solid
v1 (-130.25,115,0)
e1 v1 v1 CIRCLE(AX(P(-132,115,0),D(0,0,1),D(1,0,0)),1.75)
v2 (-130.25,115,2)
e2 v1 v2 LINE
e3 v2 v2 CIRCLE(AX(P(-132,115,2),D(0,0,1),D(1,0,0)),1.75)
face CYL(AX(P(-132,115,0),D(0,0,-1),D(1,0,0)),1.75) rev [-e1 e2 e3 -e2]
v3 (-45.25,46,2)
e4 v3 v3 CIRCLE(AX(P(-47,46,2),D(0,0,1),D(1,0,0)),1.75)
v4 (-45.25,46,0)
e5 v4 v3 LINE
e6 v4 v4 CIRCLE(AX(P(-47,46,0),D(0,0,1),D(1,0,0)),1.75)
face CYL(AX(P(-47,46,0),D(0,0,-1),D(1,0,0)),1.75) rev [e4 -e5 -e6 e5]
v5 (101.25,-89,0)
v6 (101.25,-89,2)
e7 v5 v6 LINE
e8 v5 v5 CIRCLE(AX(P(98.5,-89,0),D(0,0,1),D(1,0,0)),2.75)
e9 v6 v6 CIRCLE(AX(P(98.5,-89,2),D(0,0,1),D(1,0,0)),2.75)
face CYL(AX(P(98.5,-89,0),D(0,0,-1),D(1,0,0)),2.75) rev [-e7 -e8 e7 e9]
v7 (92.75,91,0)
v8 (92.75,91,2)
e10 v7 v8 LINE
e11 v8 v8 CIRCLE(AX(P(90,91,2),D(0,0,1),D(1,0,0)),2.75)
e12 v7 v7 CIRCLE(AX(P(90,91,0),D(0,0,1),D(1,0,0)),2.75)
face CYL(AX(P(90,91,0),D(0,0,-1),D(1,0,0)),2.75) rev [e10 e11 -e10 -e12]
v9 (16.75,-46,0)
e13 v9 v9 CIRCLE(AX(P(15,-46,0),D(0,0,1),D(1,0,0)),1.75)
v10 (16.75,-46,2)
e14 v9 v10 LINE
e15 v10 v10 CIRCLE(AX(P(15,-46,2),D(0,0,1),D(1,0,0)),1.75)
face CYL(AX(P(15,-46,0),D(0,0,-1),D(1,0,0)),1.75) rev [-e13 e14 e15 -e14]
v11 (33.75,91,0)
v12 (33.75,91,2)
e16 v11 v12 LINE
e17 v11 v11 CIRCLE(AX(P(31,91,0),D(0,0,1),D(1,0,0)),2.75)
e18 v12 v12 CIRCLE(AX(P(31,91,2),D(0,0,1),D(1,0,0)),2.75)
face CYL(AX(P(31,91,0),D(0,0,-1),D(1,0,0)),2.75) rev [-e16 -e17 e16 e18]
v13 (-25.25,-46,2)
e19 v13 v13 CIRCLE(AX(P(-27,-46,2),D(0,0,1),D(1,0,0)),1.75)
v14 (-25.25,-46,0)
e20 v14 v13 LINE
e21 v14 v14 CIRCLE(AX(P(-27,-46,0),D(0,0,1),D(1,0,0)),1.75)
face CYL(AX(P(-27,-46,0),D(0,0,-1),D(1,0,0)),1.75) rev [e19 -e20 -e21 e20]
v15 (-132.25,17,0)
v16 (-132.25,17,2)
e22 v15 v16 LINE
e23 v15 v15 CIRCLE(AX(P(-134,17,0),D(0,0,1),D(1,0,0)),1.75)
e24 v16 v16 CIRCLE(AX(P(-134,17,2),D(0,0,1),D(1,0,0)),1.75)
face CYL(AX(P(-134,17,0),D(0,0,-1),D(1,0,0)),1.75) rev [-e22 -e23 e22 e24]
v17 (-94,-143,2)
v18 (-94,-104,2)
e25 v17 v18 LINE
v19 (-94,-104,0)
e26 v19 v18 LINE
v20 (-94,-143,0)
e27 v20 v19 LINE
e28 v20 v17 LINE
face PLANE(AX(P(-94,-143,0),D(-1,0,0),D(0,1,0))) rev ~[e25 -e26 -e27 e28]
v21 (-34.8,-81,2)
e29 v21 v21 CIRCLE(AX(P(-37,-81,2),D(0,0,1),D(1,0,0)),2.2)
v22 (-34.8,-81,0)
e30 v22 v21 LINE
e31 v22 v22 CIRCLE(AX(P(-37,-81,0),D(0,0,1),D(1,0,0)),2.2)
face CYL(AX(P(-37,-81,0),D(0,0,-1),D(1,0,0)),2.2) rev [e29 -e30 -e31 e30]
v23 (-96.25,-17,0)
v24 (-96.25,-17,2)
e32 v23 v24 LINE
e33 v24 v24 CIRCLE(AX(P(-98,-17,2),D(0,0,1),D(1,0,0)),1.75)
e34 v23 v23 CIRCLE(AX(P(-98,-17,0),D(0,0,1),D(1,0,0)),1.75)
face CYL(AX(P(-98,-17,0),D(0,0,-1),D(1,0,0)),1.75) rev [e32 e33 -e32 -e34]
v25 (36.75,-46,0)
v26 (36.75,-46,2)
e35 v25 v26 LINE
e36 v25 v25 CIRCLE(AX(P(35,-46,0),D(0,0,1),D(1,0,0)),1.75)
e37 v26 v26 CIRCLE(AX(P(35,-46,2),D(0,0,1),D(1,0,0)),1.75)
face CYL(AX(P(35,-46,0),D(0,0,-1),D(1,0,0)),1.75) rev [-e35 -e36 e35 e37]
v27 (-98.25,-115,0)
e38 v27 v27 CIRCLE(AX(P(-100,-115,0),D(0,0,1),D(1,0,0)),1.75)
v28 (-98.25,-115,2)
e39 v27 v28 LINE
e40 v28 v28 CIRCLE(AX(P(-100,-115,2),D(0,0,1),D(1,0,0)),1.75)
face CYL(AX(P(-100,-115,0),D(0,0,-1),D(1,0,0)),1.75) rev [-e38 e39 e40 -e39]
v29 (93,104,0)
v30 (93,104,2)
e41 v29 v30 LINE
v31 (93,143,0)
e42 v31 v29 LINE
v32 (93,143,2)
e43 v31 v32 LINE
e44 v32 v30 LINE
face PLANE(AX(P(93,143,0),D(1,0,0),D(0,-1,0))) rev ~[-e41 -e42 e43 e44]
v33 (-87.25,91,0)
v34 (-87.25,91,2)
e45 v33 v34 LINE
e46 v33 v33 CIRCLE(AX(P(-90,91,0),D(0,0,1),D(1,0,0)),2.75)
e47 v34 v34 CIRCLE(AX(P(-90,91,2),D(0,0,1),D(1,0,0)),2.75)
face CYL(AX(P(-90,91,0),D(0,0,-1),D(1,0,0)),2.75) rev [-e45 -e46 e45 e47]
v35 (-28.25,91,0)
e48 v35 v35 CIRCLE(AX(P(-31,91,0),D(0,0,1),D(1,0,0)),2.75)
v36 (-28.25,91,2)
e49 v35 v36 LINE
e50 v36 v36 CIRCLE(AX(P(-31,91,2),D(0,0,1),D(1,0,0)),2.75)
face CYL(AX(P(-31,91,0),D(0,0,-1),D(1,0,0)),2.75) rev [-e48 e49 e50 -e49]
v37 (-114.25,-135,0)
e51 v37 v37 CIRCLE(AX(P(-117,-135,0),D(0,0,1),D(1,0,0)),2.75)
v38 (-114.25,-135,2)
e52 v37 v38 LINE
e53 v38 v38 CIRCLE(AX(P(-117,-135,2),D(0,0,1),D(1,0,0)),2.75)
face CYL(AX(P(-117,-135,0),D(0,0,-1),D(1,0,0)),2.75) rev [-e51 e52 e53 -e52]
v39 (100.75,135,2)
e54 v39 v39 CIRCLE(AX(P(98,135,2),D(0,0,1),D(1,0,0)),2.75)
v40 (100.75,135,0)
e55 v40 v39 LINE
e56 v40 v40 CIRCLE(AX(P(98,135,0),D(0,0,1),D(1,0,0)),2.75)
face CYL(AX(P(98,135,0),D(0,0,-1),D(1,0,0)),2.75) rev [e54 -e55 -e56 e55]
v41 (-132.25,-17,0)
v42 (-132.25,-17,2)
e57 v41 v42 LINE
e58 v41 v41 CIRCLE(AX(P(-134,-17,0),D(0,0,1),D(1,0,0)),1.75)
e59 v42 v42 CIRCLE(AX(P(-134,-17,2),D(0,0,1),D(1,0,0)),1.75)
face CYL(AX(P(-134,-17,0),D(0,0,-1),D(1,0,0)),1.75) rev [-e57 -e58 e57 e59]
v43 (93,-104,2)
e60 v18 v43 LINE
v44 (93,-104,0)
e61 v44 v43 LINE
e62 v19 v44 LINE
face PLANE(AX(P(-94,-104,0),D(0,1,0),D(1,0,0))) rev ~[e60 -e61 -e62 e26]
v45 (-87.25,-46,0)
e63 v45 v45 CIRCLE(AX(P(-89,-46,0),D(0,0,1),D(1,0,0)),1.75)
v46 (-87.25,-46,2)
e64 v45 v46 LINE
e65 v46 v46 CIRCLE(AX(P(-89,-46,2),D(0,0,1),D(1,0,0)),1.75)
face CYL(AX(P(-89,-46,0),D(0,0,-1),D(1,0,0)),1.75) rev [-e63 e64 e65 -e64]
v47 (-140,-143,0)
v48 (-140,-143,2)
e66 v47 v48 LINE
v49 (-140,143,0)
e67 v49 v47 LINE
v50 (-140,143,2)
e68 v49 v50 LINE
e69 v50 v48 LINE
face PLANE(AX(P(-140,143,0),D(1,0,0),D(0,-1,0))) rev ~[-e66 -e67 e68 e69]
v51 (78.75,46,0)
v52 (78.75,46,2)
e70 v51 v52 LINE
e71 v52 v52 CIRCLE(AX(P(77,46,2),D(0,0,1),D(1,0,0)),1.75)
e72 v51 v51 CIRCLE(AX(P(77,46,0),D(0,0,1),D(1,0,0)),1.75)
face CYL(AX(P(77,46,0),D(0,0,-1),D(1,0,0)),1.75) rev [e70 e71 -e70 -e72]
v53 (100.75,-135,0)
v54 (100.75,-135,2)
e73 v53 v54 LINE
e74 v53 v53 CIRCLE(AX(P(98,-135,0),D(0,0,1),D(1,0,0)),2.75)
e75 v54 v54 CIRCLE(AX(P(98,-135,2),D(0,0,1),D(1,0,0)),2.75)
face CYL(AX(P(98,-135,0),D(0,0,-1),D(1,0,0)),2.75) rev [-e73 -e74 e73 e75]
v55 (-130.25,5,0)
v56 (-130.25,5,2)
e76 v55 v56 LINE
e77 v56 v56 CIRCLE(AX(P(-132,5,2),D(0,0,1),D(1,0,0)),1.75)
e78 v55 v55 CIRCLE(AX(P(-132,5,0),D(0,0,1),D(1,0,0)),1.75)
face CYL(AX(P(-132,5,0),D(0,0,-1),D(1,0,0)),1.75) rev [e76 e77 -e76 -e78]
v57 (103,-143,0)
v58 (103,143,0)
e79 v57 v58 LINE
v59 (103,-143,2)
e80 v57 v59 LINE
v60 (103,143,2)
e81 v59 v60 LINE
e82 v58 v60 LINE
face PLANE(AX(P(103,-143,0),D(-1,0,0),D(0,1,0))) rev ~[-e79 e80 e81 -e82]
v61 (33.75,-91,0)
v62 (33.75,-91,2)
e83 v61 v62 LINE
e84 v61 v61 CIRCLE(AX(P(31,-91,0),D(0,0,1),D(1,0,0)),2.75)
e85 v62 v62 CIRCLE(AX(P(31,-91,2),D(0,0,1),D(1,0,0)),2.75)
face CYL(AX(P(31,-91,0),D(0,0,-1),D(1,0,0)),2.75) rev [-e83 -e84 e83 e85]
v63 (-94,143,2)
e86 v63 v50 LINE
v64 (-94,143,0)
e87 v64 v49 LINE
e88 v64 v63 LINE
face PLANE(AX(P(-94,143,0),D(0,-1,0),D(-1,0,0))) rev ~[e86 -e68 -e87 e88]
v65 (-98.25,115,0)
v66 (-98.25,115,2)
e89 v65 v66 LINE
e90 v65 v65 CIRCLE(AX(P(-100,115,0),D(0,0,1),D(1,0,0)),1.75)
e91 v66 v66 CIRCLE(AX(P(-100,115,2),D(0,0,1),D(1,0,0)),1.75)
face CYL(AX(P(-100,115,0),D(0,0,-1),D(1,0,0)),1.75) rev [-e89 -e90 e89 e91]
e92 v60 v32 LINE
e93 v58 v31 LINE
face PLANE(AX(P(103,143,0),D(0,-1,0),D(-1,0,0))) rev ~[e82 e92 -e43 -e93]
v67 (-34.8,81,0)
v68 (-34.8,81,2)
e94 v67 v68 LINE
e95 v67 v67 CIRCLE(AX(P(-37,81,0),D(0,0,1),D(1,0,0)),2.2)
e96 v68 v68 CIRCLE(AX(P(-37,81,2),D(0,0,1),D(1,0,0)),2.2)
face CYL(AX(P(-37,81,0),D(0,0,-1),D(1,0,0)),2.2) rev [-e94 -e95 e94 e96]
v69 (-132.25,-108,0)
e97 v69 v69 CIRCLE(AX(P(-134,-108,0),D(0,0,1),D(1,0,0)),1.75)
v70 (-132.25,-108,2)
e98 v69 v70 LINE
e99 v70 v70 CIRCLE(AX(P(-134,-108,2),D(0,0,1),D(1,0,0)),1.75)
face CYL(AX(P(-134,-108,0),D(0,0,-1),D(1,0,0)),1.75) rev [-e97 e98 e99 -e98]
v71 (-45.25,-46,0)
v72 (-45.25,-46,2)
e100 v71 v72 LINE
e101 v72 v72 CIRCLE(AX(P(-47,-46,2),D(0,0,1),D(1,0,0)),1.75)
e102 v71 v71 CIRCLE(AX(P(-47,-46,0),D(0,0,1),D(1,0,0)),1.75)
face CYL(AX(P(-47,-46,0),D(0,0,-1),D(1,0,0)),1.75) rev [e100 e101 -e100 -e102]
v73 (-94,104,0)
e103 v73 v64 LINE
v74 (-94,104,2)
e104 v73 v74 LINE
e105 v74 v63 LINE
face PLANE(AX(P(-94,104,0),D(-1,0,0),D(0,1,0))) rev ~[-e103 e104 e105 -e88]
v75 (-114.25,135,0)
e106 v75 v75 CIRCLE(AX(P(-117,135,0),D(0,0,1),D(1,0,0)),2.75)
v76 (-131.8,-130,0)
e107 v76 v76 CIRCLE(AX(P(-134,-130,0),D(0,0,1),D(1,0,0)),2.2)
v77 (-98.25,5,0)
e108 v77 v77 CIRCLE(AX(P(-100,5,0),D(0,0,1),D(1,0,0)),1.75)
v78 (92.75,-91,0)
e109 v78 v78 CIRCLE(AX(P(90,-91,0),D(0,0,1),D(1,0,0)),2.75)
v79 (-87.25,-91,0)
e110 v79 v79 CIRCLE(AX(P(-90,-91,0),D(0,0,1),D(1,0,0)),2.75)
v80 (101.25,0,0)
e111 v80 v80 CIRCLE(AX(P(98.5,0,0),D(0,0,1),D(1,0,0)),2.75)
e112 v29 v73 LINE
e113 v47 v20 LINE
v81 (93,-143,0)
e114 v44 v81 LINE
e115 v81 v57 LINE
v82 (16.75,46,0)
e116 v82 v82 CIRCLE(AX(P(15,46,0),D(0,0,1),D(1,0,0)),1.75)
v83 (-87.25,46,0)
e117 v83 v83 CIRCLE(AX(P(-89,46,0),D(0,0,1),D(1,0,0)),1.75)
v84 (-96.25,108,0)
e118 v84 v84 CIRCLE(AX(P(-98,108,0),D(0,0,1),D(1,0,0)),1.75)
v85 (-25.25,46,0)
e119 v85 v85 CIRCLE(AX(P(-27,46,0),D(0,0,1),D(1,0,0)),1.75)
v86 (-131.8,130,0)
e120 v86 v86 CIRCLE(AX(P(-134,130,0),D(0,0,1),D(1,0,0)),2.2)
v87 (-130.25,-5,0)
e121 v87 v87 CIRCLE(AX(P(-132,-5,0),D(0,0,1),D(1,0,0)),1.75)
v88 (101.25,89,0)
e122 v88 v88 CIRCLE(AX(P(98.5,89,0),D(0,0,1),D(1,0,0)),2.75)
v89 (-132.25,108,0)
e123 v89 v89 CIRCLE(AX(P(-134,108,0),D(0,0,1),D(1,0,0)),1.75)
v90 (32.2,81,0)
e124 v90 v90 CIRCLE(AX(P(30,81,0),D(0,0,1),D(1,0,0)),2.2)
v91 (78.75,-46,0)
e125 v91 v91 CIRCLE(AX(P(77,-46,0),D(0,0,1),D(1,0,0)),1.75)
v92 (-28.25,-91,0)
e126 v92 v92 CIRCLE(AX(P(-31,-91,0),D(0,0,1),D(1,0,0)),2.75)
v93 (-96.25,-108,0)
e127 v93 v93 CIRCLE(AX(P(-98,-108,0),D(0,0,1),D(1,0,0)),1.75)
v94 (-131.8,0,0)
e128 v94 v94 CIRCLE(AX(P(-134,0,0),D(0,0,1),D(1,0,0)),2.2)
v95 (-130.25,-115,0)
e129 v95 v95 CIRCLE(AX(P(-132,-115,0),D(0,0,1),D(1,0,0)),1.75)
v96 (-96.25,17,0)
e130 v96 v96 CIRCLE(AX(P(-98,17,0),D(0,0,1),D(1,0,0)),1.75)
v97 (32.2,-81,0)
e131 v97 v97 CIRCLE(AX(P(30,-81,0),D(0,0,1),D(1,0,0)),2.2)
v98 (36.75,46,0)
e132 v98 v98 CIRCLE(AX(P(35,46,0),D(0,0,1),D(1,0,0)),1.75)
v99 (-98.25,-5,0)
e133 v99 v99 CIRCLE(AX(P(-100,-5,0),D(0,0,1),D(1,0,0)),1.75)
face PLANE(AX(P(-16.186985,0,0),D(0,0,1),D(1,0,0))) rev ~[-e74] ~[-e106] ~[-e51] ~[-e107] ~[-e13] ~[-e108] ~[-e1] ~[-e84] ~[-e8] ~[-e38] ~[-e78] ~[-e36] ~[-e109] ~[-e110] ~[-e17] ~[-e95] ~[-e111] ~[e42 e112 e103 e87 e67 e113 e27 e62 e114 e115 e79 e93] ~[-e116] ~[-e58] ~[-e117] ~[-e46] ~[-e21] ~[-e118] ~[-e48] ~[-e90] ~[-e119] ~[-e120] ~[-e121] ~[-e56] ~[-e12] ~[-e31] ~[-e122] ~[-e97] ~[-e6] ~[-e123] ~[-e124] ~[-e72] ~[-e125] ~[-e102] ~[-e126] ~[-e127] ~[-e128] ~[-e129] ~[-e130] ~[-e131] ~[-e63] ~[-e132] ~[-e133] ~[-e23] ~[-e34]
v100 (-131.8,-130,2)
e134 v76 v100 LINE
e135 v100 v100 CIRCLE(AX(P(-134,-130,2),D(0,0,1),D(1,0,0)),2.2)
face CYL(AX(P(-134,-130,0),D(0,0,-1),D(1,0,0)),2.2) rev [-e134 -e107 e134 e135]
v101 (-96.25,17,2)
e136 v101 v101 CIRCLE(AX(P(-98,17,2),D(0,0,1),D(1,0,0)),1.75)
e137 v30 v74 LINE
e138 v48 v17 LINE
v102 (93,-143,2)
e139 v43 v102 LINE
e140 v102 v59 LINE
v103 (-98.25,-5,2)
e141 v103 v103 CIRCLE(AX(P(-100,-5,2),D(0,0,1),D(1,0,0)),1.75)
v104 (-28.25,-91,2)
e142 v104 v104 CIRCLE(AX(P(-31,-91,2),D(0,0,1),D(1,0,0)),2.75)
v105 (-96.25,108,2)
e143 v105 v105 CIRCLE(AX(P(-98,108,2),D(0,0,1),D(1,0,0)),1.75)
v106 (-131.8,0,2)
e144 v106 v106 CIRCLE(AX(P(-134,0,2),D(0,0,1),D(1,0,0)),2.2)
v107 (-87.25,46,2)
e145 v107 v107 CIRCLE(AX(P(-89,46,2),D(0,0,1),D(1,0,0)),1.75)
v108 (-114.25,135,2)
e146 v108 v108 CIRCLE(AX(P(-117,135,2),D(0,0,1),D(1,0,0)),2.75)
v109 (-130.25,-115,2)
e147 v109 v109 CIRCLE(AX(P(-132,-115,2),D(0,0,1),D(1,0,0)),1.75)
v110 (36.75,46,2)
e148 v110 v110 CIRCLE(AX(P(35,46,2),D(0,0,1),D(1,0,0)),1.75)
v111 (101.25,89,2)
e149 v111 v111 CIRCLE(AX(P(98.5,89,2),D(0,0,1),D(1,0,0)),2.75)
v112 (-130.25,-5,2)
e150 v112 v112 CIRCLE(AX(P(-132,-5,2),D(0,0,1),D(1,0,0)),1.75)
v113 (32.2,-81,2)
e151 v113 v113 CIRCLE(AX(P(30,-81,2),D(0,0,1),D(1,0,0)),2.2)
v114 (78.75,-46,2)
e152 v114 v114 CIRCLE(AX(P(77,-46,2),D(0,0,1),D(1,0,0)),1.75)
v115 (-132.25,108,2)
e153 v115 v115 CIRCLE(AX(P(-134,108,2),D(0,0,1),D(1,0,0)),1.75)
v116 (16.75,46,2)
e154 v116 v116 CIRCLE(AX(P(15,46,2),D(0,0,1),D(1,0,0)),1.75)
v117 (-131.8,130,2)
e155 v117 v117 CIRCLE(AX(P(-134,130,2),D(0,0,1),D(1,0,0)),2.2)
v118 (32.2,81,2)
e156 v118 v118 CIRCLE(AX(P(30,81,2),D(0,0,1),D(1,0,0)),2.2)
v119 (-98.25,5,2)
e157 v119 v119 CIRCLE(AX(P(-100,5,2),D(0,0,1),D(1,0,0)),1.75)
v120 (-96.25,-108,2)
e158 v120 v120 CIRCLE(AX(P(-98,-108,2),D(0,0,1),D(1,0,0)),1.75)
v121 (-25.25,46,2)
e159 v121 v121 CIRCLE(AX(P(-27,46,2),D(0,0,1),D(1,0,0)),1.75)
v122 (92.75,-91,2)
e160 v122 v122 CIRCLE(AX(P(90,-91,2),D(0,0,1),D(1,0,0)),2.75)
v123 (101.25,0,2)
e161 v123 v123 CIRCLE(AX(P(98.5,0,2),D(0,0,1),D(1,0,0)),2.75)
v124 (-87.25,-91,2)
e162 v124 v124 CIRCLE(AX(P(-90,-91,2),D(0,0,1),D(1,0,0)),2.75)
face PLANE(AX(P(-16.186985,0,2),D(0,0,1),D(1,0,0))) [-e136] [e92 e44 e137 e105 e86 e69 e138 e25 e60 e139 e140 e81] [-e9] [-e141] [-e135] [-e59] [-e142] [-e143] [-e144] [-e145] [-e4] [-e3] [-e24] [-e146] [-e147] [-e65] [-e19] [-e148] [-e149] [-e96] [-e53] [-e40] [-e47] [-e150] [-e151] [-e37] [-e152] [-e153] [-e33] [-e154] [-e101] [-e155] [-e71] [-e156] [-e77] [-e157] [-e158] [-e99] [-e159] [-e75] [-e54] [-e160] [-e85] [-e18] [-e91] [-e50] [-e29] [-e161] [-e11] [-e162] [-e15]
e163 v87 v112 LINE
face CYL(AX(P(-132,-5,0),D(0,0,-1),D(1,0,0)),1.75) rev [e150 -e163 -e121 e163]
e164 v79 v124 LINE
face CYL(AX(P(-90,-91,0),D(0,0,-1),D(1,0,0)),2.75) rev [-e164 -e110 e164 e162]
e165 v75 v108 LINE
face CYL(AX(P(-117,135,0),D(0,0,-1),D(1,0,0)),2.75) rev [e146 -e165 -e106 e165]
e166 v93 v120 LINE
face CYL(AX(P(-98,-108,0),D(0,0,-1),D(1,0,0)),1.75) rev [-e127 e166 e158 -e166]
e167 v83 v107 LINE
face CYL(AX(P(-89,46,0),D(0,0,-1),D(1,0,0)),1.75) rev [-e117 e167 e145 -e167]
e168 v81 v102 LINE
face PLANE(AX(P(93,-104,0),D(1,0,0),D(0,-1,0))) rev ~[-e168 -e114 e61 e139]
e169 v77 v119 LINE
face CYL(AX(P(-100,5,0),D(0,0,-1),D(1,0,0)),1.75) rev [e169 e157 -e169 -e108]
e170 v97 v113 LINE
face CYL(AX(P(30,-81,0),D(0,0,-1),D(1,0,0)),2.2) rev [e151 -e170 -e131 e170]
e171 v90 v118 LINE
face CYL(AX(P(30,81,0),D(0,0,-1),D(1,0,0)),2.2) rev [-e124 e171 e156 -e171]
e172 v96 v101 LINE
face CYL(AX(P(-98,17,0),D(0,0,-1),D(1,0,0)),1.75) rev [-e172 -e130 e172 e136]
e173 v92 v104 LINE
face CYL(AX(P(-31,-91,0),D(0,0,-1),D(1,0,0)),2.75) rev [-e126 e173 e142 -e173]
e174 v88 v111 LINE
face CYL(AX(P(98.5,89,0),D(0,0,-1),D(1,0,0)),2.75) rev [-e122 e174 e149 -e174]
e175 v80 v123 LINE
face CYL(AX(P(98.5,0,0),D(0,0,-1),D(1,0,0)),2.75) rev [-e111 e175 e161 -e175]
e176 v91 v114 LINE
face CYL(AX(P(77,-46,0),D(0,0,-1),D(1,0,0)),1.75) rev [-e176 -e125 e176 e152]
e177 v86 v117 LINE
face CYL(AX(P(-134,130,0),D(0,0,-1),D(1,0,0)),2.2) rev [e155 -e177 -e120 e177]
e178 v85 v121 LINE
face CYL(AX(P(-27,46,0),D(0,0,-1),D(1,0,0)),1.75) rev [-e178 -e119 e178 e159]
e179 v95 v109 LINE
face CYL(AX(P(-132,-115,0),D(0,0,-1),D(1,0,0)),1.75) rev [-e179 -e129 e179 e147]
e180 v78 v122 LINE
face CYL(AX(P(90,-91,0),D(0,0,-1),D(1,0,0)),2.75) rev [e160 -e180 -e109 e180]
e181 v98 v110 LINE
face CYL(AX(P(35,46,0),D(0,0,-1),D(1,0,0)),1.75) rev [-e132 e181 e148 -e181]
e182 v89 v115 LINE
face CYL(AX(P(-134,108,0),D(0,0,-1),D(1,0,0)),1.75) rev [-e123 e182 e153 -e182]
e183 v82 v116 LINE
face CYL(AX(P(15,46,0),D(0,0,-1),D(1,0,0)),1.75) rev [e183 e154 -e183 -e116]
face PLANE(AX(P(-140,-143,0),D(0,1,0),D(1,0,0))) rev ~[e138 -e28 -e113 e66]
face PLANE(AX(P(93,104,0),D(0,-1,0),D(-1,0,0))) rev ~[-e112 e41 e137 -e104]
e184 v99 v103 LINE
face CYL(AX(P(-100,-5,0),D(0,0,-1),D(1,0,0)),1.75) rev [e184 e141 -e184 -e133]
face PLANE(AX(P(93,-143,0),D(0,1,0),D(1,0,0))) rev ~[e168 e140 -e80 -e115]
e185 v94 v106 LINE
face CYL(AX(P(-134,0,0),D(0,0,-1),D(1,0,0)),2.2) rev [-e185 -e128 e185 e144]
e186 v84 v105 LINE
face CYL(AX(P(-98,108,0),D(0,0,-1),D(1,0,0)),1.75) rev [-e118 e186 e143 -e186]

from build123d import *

# Parameters (mm, degrees)
MOTOR_AND_BATTERY_FLOOR_PROFILE_R   = 2.75
MOTOR_AND_BATTERY_FLOOR_PROFILE_R_2 = 1.75
MOTOR_AND_BATTERY_FLOOR_PROFILE_R_3 = 2.2
MOTOR_AND_BATTERY_FLOOR_DEPTH       = 2


with BuildPart() as part:
    # Motor and battery floor profile → Motor and battery floor (new body)
    with BuildSketch(Plane.XY):
        Polygon((-140, -143), (-94, -143), (-94, -104), (93, -104), (93, -143), (103, -143), (103, 143), (93, 143), (93, 104), (-94, 104), (-94, 143), (-140, 143), align=None)
        with Locations((-90, -91)):
            Circle(MOTOR_AND_BATTERY_FLOOR_PROFILE_R, mode=Mode.SUBTRACT)
        with Locations((-90, 91)):
            Circle(MOTOR_AND_BATTERY_FLOOR_PROFILE_R, mode=Mode.SUBTRACT)
        with Locations((-31, -91)):
            Circle(MOTOR_AND_BATTERY_FLOOR_PROFILE_R, mode=Mode.SUBTRACT)
        with Locations((-31, 91)):
            Circle(MOTOR_AND_BATTERY_FLOOR_PROFILE_R, mode=Mode.SUBTRACT)
        with Locations((31, -91)):
            Circle(MOTOR_AND_BATTERY_FLOOR_PROFILE_R, mode=Mode.SUBTRACT)
        with Locations((31, 91)):
            Circle(MOTOR_AND_BATTERY_FLOOR_PROFILE_R, mode=Mode.SUBTRACT)
        with Locations((90, -91)):
            Circle(MOTOR_AND_BATTERY_FLOOR_PROFILE_R, mode=Mode.SUBTRACT)
        with Locations((90, 91)):
            Circle(MOTOR_AND_BATTERY_FLOOR_PROFILE_R, mode=Mode.SUBTRACT)
        with Locations((-134, -108)):
            Circle(MOTOR_AND_BATTERY_FLOOR_PROFILE_R_2, mode=Mode.SUBTRACT)
        with Locations((-134, -17)):
            Circle(MOTOR_AND_BATTERY_FLOOR_PROFILE_R_2, mode=Mode.SUBTRACT)
        with Locations((-134, 17)):
            Circle(MOTOR_AND_BATTERY_FLOOR_PROFILE_R_2, mode=Mode.SUBTRACT)
        with Locations((-134, 108)):
            Circle(MOTOR_AND_BATTERY_FLOOR_PROFILE_R_2, mode=Mode.SUBTRACT)
        with Locations((-98, -108)):
            Circle(MOTOR_AND_BATTERY_FLOOR_PROFILE_R_2, mode=Mode.SUBTRACT)
        with Locations((-98, -17)):
            Circle(MOTOR_AND_BATTERY_FLOOR_PROFILE_R_2, mode=Mode.SUBTRACT)
        with Locations((-98, 17)):
            Circle(MOTOR_AND_BATTERY_FLOOR_PROFILE_R_2, mode=Mode.SUBTRACT)
        with Locations((-98, 108)):
            Circle(MOTOR_AND_BATTERY_FLOOR_PROFILE_R_2, mode=Mode.SUBTRACT)
        with Locations((-89, -46)):
            Circle(MOTOR_AND_BATTERY_FLOOR_PROFILE_R_2, mode=Mode.SUBTRACT)
        with Locations((-89, 46)):
            Circle(MOTOR_AND_BATTERY_FLOOR_PROFILE_R_2, mode=Mode.SUBTRACT)
        with Locations((-47, -46)):
            Circle(MOTOR_AND_BATTERY_FLOOR_PROFILE_R_2, mode=Mode.SUBTRACT)
        with Locations((-47, 46)):
            Circle(MOTOR_AND_BATTERY_FLOOR_PROFILE_R_2, mode=Mode.SUBTRACT)
        with Locations((-27, -46)):
            Circle(MOTOR_AND_BATTERY_FLOOR_PROFILE_R_2, mode=Mode.SUBTRACT)
        with Locations((-27, 46)):
            Circle(MOTOR_AND_BATTERY_FLOOR_PROFILE_R_2, mode=Mode.SUBTRACT)
        with Locations((15, -46)):
            Circle(MOTOR_AND_BATTERY_FLOOR_PROFILE_R_2, mode=Mode.SUBTRACT)
        with Locations((15, 46)):
            Circle(MOTOR_AND_BATTERY_FLOOR_PROFILE_R_2, mode=Mode.SUBTRACT)
        with Locations((35, -46)):
            Circle(MOTOR_AND_BATTERY_FLOOR_PROFILE_R_2, mode=Mode.SUBTRACT)
        with Locations((35, 46)):
            Circle(MOTOR_AND_BATTERY_FLOOR_PROFILE_R_2, mode=Mode.SUBTRACT)
        with Locations((77, -46)):
            Circle(MOTOR_AND_BATTERY_FLOOR_PROFILE_R_2, mode=Mode.SUBTRACT)
        with Locations((77, 46)):
            Circle(MOTOR_AND_BATTERY_FLOOR_PROFILE_R_2, mode=Mode.SUBTRACT)
        with Locations((-117, -135)):
            Circle(MOTOR_AND_BATTERY_FLOOR_PROFILE_R, mode=Mode.SUBTRACT)
        with Locations((-117, 135)):
            Circle(MOTOR_AND_BATTERY_FLOOR_PROFILE_R, mode=Mode.SUBTRACT)
        with Locations((98, -135)):
            Circle(MOTOR_AND_BATTERY_FLOOR_PROFILE_R, mode=Mode.SUBTRACT)
        with Locations((98, 135)):
            Circle(MOTOR_AND_BATTERY_FLOOR_PROFILE_R, mode=Mode.SUBTRACT)
        with Locations((98.5, -89)):
            Circle(MOTOR_AND_BATTERY_FLOOR_PROFILE_R, mode=Mode.SUBTRACT)
        with Locations((98.5, 0)):
            Circle(MOTOR_AND_BATTERY_FLOOR_PROFILE_R, mode=Mode.SUBTRACT)
        with Locations((98.5, 89)):
            Circle(MOTOR_AND_BATTERY_FLOOR_PROFILE_R, mode=Mode.SUBTRACT)
        with Locations((-134, -130)):
            Circle(MOTOR_AND_BATTERY_FLOOR_PROFILE_R_3, mode=Mode.SUBTRACT)
        with Locations((-134, 0)):
            Circle(MOTOR_AND_BATTERY_FLOOR_PROFILE_R_3, mode=Mode.SUBTRACT)
        with Locations((-134, 130)):
            Circle(MOTOR_AND_BATTERY_FLOOR_PROFILE_R_3, mode=Mode.SUBTRACT)
        with Locations((-37, -81)):
            Circle(MOTOR_AND_BATTERY_FLOOR_PROFILE_R_3, mode=Mode.SUBTRACT)
        with Locations((-37, 81)):
            Circle(MOTOR_AND_BATTERY_FLOOR_PROFILE_R_3, mode=Mode.SUBTRACT)
        with Locations((30, -81)):
            Circle(MOTOR_AND_BATTERY_FLOOR_PROFILE_R_3, mode=Mode.SUBTRACT)
        with Locations((30, 81)):
            Circle(MOTOR_AND_BATTERY_FLOOR_PROFILE_R_3, mode=Mode.SUBTRACT)
        with Locations((-132, -115)):
            Circle(MOTOR_AND_BATTERY_FLOOR_PROFILE_R_2, mode=Mode.SUBTRACT)
        with Locations((-132, -5)):
            Circle(MOTOR_AND_BATTERY_FLOOR_PROFILE_R_2, mode=Mode.SUBTRACT)
        with Locations((-132, 5)):
            Circle(MOTOR_AND_BATTERY_FLOOR_PROFILE_R_2, mode=Mode.SUBTRACT)
        with Locations((-132, 115)):
            Circle(MOTOR_AND_BATTERY_FLOOR_PROFILE_R_2, mode=Mode.SUBTRACT)
        with Locations((-100, -115)):
            Circle(MOTOR_AND_BATTERY_FLOOR_PROFILE_R_2, mode=Mode.SUBTRACT)
        with Locations((-100, -5)):
            Circle(MOTOR_AND_BATTERY_FLOOR_PROFILE_R_2, mode=Mode.SUBTRACT)
        with Locations((-100, 5)):
            Circle(MOTOR_AND_BATTERY_FLOOR_PROFILE_R_2, mode=Mode.SUBTRACT)
        with Locations((-100, 115)):
            Circle(MOTOR_AND_BATTERY_FLOOR_PROFILE_R_2, mode=Mode.SUBTRACT)
    extrude(amount=MOTOR_AND_BATTERY_FLOOR_DEPTH)


solid = part.part
